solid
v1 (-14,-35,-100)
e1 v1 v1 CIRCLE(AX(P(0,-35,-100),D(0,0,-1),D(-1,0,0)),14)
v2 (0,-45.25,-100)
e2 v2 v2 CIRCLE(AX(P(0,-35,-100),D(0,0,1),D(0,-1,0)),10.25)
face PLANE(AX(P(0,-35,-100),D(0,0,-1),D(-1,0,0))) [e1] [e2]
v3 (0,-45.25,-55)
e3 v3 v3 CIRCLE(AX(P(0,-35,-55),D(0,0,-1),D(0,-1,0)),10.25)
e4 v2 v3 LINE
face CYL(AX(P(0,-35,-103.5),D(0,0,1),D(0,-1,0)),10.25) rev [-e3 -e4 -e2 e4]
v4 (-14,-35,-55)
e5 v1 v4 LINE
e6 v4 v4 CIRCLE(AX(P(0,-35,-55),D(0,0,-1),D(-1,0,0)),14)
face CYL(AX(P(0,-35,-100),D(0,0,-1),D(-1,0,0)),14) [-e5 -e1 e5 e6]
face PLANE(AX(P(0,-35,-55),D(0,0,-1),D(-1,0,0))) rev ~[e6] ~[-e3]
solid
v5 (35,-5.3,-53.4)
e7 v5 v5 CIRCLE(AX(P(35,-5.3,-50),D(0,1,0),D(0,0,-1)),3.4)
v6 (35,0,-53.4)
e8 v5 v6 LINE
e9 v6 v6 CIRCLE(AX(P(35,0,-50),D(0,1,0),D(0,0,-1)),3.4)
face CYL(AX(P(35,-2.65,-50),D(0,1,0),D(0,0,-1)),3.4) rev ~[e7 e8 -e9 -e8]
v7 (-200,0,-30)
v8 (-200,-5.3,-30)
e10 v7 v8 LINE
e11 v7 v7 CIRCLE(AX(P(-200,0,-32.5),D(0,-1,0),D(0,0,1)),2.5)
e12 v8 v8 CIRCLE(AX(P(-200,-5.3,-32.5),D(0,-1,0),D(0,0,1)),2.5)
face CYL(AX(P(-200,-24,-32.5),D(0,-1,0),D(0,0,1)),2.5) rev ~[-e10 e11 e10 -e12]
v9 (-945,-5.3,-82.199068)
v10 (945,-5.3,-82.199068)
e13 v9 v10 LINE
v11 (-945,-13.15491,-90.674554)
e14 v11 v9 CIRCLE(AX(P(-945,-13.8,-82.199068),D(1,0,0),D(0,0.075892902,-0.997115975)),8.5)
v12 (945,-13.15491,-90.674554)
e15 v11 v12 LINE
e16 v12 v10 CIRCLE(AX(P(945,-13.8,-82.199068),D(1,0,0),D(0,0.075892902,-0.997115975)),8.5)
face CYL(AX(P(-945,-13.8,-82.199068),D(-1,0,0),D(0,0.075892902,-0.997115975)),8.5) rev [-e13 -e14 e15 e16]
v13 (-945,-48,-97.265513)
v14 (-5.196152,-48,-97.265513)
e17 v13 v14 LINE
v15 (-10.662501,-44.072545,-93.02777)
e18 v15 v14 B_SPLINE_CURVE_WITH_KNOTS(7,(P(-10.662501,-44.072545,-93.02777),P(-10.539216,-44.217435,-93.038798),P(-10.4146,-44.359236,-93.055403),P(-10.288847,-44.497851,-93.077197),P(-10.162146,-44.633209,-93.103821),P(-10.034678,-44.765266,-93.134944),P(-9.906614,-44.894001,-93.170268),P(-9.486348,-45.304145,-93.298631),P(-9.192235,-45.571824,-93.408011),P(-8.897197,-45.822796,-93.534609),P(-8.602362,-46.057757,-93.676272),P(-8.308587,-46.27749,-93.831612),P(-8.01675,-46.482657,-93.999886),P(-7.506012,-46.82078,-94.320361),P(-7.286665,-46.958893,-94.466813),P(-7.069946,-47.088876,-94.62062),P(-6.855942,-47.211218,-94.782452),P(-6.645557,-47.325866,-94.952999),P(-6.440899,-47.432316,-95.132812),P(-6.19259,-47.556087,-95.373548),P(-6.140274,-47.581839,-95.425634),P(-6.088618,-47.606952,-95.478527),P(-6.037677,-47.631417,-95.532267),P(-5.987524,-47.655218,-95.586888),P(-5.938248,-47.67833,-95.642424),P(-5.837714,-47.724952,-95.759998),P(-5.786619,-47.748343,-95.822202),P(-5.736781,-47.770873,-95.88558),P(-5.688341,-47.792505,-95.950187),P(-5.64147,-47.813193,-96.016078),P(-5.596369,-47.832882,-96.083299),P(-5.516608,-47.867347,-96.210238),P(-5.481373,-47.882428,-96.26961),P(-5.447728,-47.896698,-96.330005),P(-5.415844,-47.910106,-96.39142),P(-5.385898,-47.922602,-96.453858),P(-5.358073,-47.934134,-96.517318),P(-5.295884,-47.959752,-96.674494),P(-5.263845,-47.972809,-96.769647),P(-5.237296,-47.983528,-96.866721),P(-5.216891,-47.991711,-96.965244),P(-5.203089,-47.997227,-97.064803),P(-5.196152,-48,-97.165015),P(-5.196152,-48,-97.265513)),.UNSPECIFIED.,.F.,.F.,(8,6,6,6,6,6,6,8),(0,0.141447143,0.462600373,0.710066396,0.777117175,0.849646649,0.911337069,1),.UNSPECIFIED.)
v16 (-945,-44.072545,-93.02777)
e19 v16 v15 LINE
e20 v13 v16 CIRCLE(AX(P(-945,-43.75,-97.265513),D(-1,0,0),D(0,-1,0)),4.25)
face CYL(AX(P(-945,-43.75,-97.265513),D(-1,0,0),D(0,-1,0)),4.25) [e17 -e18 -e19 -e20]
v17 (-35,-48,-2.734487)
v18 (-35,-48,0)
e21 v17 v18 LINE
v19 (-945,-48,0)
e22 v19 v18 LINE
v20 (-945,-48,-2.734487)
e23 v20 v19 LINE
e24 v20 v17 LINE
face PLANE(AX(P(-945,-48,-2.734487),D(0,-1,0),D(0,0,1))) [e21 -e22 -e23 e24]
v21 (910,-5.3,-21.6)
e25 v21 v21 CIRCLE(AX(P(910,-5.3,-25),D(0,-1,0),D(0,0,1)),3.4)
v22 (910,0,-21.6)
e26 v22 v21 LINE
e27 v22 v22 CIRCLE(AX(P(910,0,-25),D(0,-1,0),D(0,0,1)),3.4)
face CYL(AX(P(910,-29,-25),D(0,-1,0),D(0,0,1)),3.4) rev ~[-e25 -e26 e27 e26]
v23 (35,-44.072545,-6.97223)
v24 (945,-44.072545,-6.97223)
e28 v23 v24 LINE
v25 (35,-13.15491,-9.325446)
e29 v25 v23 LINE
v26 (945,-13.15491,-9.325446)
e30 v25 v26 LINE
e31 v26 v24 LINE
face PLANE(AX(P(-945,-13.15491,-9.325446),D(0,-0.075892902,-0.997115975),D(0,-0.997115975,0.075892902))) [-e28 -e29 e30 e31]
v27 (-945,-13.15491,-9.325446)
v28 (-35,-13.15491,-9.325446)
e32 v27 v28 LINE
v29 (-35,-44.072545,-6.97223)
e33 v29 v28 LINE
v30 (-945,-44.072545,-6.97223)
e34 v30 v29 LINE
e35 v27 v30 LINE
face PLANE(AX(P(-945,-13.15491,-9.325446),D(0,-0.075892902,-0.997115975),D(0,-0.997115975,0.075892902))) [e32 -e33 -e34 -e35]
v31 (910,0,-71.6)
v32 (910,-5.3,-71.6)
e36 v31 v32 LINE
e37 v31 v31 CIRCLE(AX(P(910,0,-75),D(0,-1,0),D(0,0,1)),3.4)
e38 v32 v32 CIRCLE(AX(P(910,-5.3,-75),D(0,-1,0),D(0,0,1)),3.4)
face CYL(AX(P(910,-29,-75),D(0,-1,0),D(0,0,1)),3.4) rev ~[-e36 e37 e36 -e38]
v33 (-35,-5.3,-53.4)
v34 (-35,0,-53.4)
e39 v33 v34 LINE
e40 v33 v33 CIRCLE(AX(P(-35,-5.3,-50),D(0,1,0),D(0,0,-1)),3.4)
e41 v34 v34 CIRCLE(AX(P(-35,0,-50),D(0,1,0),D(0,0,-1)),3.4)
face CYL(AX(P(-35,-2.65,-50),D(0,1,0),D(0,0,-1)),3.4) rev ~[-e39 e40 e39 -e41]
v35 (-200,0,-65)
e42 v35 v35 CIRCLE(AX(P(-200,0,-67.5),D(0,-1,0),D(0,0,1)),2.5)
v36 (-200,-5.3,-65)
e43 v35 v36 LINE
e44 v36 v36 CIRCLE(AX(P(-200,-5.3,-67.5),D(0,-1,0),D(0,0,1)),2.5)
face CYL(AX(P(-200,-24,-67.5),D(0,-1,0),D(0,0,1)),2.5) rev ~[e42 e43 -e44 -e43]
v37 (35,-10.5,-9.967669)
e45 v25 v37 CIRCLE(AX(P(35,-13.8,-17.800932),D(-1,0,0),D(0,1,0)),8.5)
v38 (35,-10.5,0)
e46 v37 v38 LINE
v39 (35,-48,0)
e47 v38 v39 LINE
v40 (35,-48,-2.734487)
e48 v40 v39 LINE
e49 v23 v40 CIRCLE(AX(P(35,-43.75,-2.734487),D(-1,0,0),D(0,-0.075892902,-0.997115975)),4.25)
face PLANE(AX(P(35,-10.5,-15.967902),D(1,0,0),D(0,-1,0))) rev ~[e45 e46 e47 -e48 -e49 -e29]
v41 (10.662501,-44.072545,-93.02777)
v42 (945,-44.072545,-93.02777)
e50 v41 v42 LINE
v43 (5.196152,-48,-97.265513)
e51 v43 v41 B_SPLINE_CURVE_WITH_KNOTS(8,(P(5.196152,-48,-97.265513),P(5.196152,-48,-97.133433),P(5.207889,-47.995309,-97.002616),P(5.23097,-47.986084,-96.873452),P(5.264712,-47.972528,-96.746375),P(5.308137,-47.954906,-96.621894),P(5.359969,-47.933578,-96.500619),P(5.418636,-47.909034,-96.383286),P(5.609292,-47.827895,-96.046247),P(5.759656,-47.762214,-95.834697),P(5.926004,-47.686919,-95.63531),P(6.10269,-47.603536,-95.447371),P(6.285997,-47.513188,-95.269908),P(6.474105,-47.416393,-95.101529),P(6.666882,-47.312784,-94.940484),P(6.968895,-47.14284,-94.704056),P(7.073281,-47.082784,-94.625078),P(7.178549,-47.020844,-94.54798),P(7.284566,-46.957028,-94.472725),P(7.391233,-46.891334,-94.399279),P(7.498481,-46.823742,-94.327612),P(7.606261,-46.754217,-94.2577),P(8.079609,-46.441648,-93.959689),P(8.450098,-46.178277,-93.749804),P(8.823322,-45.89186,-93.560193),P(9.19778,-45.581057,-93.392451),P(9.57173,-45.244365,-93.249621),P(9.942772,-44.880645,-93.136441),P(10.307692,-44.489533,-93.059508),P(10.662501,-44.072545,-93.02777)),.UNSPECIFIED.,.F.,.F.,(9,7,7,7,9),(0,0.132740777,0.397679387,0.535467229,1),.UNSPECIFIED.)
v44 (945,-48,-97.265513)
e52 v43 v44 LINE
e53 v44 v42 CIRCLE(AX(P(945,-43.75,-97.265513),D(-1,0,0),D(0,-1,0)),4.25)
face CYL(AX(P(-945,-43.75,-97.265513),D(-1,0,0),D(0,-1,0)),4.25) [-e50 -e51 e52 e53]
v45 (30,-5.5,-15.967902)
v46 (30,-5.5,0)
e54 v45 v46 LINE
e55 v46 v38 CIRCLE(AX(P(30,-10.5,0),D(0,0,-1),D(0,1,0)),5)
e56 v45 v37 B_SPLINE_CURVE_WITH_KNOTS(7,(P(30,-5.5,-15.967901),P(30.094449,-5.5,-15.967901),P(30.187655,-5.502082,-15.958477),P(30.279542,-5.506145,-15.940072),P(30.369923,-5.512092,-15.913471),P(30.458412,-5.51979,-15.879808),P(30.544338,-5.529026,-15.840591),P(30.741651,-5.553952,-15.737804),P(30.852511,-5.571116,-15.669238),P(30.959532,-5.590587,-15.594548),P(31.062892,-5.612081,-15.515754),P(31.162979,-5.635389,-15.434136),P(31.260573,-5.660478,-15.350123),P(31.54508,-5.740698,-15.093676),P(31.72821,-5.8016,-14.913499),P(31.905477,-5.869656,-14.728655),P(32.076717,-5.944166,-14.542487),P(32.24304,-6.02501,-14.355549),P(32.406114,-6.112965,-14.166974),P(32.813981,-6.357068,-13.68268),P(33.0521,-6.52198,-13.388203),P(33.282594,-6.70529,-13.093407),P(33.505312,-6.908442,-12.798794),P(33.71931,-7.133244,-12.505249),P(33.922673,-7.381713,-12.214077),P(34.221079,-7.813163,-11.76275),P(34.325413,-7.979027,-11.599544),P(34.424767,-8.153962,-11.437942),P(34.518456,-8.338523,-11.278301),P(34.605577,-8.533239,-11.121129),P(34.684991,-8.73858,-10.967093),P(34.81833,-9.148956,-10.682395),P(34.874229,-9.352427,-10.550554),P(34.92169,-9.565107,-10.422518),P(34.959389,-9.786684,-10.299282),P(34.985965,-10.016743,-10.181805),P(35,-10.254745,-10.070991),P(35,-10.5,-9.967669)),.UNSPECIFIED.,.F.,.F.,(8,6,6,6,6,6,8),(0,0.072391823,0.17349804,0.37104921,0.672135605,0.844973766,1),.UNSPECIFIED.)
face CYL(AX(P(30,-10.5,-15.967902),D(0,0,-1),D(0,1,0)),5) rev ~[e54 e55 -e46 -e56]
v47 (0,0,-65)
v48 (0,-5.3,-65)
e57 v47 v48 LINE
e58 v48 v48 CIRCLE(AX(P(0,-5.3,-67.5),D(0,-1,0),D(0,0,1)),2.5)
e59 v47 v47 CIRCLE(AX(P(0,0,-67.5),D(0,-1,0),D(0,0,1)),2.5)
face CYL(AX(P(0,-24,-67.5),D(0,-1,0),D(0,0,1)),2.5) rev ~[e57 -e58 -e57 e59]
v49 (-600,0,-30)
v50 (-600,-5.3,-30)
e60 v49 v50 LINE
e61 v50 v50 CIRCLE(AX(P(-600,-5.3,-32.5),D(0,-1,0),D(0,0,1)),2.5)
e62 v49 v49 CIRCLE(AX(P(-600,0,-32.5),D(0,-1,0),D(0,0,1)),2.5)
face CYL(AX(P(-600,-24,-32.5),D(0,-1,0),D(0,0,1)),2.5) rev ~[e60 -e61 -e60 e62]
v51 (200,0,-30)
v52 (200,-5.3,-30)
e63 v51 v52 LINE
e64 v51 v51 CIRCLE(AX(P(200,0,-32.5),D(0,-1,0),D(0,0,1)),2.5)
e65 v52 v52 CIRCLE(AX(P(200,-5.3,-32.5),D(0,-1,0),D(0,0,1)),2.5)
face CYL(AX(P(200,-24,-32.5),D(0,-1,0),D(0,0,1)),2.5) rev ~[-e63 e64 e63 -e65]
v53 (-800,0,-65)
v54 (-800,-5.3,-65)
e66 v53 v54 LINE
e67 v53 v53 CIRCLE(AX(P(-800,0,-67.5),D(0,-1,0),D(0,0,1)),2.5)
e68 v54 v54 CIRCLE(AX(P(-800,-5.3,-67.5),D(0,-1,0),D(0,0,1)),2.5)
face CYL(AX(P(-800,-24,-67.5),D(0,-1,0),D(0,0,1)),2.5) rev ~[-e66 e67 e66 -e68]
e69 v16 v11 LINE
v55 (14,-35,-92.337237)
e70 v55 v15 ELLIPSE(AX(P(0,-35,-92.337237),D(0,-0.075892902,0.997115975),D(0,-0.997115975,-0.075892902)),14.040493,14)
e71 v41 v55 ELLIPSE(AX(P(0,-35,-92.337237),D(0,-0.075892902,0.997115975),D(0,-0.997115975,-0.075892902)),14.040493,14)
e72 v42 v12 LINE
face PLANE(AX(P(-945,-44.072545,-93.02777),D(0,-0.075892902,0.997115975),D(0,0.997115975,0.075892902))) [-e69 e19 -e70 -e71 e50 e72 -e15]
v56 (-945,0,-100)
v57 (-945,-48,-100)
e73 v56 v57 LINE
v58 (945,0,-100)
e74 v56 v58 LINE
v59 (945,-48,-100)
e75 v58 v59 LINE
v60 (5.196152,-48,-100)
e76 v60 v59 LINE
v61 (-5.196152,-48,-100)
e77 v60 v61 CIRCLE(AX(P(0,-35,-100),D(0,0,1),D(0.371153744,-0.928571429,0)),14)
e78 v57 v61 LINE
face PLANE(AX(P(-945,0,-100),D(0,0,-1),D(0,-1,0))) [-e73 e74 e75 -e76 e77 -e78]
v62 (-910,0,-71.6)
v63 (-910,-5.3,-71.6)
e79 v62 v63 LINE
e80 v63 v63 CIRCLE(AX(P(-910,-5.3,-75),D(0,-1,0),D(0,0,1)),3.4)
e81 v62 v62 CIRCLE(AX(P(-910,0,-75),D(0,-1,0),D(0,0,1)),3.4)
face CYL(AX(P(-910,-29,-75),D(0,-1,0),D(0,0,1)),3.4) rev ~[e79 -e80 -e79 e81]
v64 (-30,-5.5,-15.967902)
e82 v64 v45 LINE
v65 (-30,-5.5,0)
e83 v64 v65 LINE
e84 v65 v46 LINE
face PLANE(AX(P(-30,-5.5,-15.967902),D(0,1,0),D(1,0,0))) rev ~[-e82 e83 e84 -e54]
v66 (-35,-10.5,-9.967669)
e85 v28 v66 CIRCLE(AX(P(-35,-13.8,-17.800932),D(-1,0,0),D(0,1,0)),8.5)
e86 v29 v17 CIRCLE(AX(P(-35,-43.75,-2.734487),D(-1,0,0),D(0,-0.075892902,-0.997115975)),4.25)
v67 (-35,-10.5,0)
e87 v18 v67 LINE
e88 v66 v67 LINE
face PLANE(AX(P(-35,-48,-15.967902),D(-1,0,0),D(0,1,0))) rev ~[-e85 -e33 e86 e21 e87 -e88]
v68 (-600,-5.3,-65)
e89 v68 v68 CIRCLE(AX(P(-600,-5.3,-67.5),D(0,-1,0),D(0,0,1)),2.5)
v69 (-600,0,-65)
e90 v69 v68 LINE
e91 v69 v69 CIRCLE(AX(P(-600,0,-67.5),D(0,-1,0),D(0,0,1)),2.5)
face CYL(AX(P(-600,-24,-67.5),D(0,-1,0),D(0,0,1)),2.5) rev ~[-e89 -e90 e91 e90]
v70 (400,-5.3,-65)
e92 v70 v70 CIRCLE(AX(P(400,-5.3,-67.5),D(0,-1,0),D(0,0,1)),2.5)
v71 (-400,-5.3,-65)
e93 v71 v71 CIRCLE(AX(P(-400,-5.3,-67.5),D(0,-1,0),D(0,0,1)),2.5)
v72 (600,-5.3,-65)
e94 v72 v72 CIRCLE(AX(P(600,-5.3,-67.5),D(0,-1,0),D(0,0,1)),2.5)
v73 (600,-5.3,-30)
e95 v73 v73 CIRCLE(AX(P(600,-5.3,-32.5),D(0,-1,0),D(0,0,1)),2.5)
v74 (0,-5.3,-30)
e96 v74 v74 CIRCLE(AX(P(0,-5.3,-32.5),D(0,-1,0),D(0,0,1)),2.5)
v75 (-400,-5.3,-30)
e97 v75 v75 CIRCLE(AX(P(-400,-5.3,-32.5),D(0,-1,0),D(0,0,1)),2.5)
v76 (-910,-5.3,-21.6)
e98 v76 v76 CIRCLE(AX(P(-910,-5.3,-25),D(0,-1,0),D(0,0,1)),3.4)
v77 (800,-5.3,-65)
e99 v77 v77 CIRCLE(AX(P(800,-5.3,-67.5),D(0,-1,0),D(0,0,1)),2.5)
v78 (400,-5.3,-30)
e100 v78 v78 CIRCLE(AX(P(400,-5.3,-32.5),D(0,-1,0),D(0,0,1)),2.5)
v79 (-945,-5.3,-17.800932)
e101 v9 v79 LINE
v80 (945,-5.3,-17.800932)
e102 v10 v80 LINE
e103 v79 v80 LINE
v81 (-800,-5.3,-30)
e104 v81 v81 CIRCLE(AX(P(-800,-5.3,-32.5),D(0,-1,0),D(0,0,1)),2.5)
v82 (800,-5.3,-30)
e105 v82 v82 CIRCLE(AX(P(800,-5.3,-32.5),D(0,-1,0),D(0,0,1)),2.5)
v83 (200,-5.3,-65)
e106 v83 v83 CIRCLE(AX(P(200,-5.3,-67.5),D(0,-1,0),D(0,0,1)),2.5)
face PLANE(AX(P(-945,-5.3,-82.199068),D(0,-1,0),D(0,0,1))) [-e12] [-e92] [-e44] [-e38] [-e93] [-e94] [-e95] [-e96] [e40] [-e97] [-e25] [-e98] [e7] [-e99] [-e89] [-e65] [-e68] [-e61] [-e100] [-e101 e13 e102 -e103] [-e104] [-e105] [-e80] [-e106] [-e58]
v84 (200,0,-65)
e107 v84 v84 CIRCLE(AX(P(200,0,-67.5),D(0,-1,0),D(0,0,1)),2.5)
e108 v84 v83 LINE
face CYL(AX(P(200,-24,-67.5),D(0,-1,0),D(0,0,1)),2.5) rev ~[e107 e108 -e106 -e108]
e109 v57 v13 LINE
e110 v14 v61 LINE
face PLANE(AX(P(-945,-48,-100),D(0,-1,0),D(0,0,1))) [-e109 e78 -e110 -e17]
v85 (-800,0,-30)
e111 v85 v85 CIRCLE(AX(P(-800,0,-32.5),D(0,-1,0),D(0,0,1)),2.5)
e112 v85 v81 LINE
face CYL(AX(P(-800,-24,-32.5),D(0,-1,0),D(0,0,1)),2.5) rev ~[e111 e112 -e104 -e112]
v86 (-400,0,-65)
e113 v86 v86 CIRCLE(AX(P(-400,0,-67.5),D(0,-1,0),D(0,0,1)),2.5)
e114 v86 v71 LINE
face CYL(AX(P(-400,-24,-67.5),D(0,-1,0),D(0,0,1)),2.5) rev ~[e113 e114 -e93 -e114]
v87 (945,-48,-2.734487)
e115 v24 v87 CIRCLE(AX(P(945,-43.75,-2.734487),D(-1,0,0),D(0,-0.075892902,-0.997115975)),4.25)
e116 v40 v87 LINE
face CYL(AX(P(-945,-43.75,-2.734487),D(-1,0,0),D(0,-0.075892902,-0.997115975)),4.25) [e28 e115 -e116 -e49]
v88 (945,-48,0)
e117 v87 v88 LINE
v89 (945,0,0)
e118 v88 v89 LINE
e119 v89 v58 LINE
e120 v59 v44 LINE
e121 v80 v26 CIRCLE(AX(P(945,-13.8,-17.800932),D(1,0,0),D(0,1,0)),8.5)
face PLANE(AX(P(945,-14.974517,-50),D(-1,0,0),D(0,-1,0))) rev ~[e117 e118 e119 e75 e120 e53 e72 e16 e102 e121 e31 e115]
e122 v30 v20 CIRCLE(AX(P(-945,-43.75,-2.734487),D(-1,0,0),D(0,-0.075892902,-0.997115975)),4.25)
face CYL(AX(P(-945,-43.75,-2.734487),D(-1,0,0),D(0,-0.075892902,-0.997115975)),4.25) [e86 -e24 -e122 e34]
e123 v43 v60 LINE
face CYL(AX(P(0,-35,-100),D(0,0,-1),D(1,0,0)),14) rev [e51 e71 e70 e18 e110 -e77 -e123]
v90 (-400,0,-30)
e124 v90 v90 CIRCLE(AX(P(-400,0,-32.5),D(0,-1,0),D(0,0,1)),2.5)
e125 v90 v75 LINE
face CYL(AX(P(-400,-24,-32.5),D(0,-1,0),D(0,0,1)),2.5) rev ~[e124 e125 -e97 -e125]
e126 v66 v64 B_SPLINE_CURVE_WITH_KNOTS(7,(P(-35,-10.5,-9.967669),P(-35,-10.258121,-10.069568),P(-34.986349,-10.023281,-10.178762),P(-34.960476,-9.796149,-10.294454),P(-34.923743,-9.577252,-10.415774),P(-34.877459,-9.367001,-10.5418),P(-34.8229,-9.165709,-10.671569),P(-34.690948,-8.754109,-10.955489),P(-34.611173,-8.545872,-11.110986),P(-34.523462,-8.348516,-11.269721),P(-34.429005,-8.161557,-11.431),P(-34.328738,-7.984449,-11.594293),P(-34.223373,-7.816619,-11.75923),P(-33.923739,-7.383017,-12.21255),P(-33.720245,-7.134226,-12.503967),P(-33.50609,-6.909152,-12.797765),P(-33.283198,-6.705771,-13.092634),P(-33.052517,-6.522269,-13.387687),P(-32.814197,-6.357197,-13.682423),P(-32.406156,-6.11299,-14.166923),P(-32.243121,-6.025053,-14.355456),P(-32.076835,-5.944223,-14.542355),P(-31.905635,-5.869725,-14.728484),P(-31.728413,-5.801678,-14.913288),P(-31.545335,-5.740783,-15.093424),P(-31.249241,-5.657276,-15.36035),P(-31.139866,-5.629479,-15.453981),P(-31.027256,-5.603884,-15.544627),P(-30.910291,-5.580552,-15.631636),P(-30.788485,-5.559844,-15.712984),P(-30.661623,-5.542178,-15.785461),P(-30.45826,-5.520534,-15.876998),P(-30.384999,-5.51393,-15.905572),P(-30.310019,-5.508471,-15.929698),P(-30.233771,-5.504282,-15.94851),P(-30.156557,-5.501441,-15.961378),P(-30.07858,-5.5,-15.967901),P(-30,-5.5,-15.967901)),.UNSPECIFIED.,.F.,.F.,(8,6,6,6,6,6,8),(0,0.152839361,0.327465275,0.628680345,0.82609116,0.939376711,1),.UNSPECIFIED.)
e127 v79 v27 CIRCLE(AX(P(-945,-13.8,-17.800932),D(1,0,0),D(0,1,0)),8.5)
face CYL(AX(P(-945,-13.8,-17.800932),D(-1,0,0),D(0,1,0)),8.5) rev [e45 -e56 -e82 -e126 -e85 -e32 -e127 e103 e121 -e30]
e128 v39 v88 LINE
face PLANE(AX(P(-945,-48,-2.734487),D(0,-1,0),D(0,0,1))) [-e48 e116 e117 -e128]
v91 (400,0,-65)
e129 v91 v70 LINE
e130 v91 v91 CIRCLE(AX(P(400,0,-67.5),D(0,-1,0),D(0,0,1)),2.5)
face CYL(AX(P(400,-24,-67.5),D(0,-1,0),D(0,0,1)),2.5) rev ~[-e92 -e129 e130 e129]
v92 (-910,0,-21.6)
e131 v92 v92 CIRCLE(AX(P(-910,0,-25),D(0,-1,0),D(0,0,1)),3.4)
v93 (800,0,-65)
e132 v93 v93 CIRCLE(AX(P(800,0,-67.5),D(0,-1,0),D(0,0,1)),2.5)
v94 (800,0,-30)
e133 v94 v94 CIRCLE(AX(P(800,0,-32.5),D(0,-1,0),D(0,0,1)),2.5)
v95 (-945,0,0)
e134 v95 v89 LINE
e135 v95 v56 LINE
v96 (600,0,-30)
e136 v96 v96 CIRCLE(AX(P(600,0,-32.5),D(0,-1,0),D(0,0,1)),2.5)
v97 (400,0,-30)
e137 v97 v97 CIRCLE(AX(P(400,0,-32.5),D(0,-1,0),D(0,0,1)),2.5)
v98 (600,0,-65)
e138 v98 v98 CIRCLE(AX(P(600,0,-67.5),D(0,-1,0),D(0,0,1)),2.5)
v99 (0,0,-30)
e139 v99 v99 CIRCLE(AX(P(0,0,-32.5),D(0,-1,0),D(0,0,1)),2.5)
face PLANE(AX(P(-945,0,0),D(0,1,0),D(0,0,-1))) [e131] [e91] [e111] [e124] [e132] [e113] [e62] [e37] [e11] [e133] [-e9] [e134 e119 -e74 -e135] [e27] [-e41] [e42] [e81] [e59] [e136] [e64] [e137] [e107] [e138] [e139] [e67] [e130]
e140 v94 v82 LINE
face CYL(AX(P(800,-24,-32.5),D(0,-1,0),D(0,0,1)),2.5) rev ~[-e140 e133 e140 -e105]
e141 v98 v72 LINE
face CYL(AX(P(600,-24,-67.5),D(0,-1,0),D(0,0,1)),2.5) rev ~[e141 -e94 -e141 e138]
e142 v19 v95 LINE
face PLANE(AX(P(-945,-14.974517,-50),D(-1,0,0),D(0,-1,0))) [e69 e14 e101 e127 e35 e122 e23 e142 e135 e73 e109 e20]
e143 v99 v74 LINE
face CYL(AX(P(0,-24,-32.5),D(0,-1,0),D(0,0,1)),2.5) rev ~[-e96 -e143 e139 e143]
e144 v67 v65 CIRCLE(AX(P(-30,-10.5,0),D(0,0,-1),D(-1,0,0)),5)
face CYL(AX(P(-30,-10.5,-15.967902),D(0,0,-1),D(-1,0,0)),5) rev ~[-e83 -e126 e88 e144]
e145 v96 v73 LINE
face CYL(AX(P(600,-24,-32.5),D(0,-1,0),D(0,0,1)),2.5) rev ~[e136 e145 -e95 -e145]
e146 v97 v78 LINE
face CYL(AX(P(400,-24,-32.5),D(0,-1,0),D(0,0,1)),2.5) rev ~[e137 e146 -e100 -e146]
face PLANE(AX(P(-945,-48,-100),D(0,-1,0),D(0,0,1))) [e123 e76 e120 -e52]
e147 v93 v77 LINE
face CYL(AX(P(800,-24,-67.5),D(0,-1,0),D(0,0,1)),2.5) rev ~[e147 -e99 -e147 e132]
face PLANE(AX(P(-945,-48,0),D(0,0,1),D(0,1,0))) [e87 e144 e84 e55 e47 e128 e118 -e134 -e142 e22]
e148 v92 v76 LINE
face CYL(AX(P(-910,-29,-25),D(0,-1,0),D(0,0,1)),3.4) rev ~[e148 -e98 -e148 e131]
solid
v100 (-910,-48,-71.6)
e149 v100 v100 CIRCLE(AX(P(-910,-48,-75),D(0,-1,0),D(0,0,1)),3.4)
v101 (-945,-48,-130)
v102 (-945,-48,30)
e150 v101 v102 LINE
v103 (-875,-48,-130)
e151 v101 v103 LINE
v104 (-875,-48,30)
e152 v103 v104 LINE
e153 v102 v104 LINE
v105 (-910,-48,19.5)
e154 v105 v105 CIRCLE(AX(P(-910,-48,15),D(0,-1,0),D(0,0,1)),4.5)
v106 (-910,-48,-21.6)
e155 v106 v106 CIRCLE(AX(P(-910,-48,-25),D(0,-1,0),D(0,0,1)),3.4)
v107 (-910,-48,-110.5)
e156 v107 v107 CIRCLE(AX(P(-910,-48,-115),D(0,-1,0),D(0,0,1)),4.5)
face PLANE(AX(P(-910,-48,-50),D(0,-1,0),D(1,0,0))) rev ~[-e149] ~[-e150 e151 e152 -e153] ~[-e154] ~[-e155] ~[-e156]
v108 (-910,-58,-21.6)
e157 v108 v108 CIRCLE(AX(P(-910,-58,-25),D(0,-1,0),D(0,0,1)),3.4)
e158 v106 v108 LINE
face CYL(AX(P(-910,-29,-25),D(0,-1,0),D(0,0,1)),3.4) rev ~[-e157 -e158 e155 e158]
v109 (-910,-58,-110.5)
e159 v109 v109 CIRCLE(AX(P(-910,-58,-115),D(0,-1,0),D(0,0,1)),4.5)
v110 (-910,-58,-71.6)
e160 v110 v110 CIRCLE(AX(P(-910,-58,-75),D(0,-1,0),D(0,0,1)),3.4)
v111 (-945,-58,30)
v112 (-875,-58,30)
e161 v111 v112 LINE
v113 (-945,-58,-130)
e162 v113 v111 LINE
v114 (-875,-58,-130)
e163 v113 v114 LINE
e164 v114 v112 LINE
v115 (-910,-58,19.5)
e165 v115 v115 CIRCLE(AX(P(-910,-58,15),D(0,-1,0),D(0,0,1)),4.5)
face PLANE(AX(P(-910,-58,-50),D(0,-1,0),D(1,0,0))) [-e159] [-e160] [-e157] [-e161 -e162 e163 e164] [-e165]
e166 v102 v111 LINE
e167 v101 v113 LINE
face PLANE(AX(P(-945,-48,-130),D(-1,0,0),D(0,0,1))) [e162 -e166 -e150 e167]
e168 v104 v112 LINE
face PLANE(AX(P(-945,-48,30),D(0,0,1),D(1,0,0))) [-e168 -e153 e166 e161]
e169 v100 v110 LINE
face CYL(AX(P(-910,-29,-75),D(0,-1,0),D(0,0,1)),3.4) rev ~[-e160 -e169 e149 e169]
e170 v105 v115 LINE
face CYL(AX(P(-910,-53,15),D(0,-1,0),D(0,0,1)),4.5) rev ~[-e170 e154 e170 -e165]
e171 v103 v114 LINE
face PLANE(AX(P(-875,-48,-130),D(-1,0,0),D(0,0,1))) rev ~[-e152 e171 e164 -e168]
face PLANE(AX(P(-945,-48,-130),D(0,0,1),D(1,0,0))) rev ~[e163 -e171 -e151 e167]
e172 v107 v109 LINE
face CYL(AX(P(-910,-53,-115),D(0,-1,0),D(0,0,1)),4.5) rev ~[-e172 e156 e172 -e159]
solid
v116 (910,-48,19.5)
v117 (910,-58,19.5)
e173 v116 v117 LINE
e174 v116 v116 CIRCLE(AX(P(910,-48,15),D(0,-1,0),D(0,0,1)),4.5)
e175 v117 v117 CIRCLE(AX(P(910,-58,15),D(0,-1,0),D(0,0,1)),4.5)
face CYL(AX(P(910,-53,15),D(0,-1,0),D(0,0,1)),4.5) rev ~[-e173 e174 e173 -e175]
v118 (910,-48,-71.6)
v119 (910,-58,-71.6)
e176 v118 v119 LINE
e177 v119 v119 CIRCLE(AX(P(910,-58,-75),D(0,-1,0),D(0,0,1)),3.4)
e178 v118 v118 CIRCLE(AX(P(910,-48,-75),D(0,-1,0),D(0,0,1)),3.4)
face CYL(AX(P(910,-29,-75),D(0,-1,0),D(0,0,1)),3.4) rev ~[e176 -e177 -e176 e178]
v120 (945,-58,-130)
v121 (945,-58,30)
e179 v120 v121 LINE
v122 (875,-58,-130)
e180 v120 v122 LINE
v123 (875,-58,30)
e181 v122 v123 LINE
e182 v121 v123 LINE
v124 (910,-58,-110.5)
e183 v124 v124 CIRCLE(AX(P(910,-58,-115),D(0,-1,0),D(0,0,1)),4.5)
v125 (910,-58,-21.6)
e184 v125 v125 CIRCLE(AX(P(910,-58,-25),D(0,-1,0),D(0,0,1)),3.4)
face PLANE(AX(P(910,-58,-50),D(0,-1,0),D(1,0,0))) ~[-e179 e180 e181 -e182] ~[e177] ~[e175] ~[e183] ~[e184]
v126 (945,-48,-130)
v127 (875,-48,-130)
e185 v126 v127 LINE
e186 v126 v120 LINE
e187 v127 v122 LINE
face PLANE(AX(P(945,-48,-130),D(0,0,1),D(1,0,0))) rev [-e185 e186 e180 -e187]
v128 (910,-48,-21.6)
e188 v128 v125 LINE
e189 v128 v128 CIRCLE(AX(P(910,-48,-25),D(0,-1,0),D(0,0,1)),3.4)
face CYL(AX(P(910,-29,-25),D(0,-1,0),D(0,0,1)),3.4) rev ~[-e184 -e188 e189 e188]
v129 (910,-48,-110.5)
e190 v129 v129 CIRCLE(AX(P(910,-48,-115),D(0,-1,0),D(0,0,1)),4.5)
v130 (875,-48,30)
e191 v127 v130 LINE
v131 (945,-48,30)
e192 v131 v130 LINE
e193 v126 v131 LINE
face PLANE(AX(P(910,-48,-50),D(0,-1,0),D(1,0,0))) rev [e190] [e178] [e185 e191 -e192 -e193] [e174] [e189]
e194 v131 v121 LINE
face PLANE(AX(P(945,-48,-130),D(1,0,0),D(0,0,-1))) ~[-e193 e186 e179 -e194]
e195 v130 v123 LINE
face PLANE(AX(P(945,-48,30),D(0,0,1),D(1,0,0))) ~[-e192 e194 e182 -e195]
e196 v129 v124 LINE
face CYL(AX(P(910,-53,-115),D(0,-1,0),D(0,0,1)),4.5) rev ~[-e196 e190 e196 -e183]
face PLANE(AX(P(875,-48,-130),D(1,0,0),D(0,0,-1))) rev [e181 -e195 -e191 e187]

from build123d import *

# Parameters (mm, degrees)
MEMBER_10_1_DEPTH                = 1890
SKETCH_2_W                       = 70
SKETCH_2_H                       = 160
EXTRUDE_1_DEPTH                  = 10
SKETCH_4_W                       = 4.5
SKETCH_4_H                       = 10
HOLE_WIZARD_9_0_9_1_AT_2_COUNT   = 2
HOLE_WIZARD_9_0_9_1_AT_2_PITCH   = 130
HOLE_WIZARD_9_0_9_1_AT_3_COUNT   = 2
HOLE_WIZARD_9_0_9_1_AT_3_PITCH   = 1820
HOLE_WIZARD_9_0_9_1_AT_4_COUNT   = 2
HOLE_WIZARD_9_0_9_1_AT_4_PITCH   = 1824.63695019
SKETCH_6_W                       = 2.5
SKETCH_6_H                       = 48
HOLE_WIZARD_M6_1_AT_2_COUNT      = 2
HOLE_WIZARD_M6_1_AT_2_PITCH      = 35
PATTERN_LINEAR_1_COUNT           = 9
PATTERN_LINEAR_1_PITCH           = 200
PATTERN_LINEAR_1_COPY_1_SKETCH_W = 2.5
PATTERN_LINEAR_1_COPY_1_SKETCH_H = 48
PATTERN_LINEAR_1_COPY_2_SKETCH_W = 2.5
PATTERN_LINEAR_1_COPY_2_SKETCH_H = 48
PATTERN_LINEAR_1_COPY_3_SKETCH_W = 2.5
PATTERN_LINEAR_1_COPY_3_SKETCH_H = 48
PATTERN_LINEAR_1_COPY_4_SKETCH_W = 2.5
PATTERN_LINEAR_1_COPY_4_SKETCH_H = 48
PATTERN_LINEAR_1_COPY_5_SKETCH_W = 2.5
PATTERN_LINEAR_1_COPY_5_SKETCH_H = 48
PATTERN_LINEAR_1_COPY_6_SKETCH_W = 2.5
PATTERN_LINEAR_1_COPY_6_SKETCH_H = 48
PATTERN_LINEAR_1_COPY_7_SKETCH_W = 2.5
PATTERN_LINEAR_1_COPY_7_SKETCH_H = 48
PATTERN_LINEAR_1_COPY_8_SKETCH_W = 2.5
PATTERN_LINEAR_1_COPY_8_SKETCH_H = 48
CUT_EXTRUDE_START                = -10.785948
SKETCH_7_R                       = 15
CUT_EXTRUDE_1_DEPTH              = 10.785948
CUT_EXTRUDE_START_2              = -15.967902
CUT_EXTRUDE_2_DEPTH              = 15.967902
SKETCH_10_R                      = 14
CUT_EXTRUDE_4_DEPTH              = 957.125399037
SKETCH_14_R                      = 14
EXTRUDE_3_DEPTH                  = 45
SKETCH_19_W                      = 3.4
SKETCH_19_H                      = 58
HOLE_WIZARD_M8_1_AT_2_COUNT      = 2
HOLE_WIZARD_M8_1_AT_2_PITCH      = 50
HOLE_WIZARD_M8_1_AT_3_COUNT      = 2
HOLE_WIZARD_M8_1_AT_3_PITCH      = 1820
HOLE_WIZARD_M8_1_AT_4_COUNT      = 2
HOLE_WIZARD_M8_1_AT_4_PITCH      = 1820.686683644
SKETCH_22_W                      = 3.4
SKETCH_22_H                      = 5.3
HOLE_WIZARD_M8_2_AT_2_COUNT      = 2
HOLE_WIZARD_M8_2_AT_2_PITCH      = 70


with BuildPart() as part:
    # Sketch1 → Member 10_1 (new body)
    with BuildSketch(Plane.YZ.offset(-945)):
        with BuildLine():
            Line((0, 0), (0, -100))
            Line((0, -100), (-48, -100))
            Line((-48, -100), (-48, -97.265512699))
            ThreePointArc((-48, -97.265512699), (-46.867155397, -94.376595562), (-44.072544834, -93.027769806))
            Line((-44.072544834, -93.027769806), (-13.154910332, -90.674554065))
            ThreePointArc((-13.154910332, -90.674554065), (-7.565689205, -87.976902554), (-5.3, -82.199068278))
            Line((-5.3, -82.199068278), (-5.3, -17.800931722))
            ThreePointArc((-5.3, -17.800931722), (-7.565689205, -12.023097446), (-13.154910332, -9.325445935))
            Line((-13.154910332, -9.325445935), (-44.072544834, -6.972230194))
            ThreePointArc((-44.072544834, -6.972230194), (-46.867155397, -5.623404438), (-48, -2.734487301))
            Line((-48, -2.734487301), (-48, 0))
            Line((-48, 0), (0, 0))
        make_face()
    extrude(amount=MEMBER_10_1_DEPTH)

    # 草图6 → M6 螺纹孔1 (revolve, cut)
    with BuildSketch(Plane(origin=(-800, 0, -32.5), x_dir=(0, 0, 1), z_dir=(1, 0, 0))):
        with Locations((1.25, 24)):
            Rectangle(SKETCH_6_W, SKETCH_6_H)
    hole_wizard_m6_1 = revolve(axis=Axis((-800, 6.35, -32.5), (0, -1, 0)), mode=Mode.SUBTRACT)

    # M6 螺纹孔1 at 2: M6 螺纹孔1 ×2
    with Locations(*[(0, 0, -i * HOLE_WIZARD_M6_1_AT_2_PITCH) for i in range(1, HOLE_WIZARD_M6_1_AT_2_COUNT)]):
        add(hole_wizard_m6_1, mode=Mode.SUBTRACT)

    # 阵列(线性)1: M6 螺纹孔1 ×9
    with Locations(*[(i * PATTERN_LINEAR_1_PITCH, 0, 0) for i in range(1, PATTERN_LINEAR_1_COUNT)]):
        add(hole_wizard_m6_1, mode=Mode.SUBTRACT)

    # 阵列(线性)1 copy 1 sketch → 阵列(线性)1 copy 1 (revolve, cut)
    with BuildSketch(Plane(origin=(-600, 0, -67.5), x_dir=(0, 0, 1), z_dir=(1, 0, 0))):
        with Locations((1.25, 24)):
            Rectangle(PATTERN_LINEAR_1_COPY_1_SKETCH_W, PATTERN_LINEAR_1_COPY_1_SKETCH_H)
    revolve(axis=Axis((-600, 6.35, -67.5), (0, -1, 0)), mode=Mode.SUBTRACT)

    # 阵列(线性)1 copy 2 sketch → 阵列(线性)1 copy 2 (revolve, cut)
    with BuildSketch(Plane(origin=(-400, 0, -67.5), x_dir=(0, 0, 1), z_dir=(1, 0, 0))):
        with Locations((1.25, 24)):
            Rectangle(PATTERN_LINEAR_1_COPY_2_SKETCH_W, PATTERN_LINEAR_1_COPY_2_SKETCH_H)
    revolve(axis=Axis((-400, 6.35, -67.5), (0, -1, 0)), mode=Mode.SUBTRACT)

    # 阵列(线性)1 copy 3 sketch → 阵列(线性)1 copy 3 (revolve, cut)
    with BuildSketch(Plane(origin=(-200, 0, -67.5), x_dir=(0, 0, 1), z_dir=(1, 0, 0))):
        with Locations((1.25, 24)):
            Rectangle(PATTERN_LINEAR_1_COPY_3_SKETCH_W, PATTERN_LINEAR_1_COPY_3_SKETCH_H)
    revolve(axis=Axis((-200, 6.35, -67.5), (0, -1, 0)), mode=Mode.SUBTRACT)

    # 阵列(线性)1 copy 4 sketch → 阵列(线性)1 copy 4 (revolve, cut)
    with BuildSketch(Plane(origin=(0, 0, -67.5), x_dir=(0, 0, 1), z_dir=(1, 0, 0))):
        with Locations((1.25, 24)):
            Rectangle(PATTERN_LINEAR_1_COPY_4_SKETCH_W, PATTERN_LINEAR_1_COPY_4_SKETCH_H)
    revolve(axis=Axis((0, 6.35, -67.5), (0, -1, 0)), mode=Mode.SUBTRACT)

    # 阵列(线性)1 copy 5 sketch → 阵列(线性)1 copy 5 (revolve, cut)
    with BuildSketch(Plane(origin=(200, 0, -67.5), x_dir=(0, 0, 1), z_dir=(1, 0, 0))):
        with Locations((1.25, 24)):
            Rectangle(PATTERN_LINEAR_1_COPY_5_SKETCH_W, PATTERN_LINEAR_1_COPY_5_SKETCH_H)
    revolve(axis=Axis((200, 6.35, -67.5), (0, -1, 0)), mode=Mode.SUBTRACT)

    # 阵列(线性)1 copy 6 sketch → 阵列(线性)1 copy 6 (revolve, cut)
    with BuildSketch(Plane(origin=(400, 0, -67.5), x_dir=(0, 0, 1), z_dir=(1, 0, 0))):
        with Locations((1.25, 24)):
            Rectangle(PATTERN_LINEAR_1_COPY_6_SKETCH_W, PATTERN_LINEAR_1_COPY_6_SKETCH_H)
    revolve(axis=Axis((400, 6.35, -67.5), (0, -1, 0)), mode=Mode.SUBTRACT)

    # 阵列(线性)1 copy 7 sketch → 阵列(线性)1 copy 7 (revolve, cut)
    with BuildSketch(Plane(origin=(600, 0, -67.5), x_dir=(0, 0, 1), z_dir=(1, 0, 0))):
        with Locations((1.25, 24)):
            Rectangle(PATTERN_LINEAR_1_COPY_7_SKETCH_W, PATTERN_LINEAR_1_COPY_7_SKETCH_H)
    revolve(axis=Axis((600, 6.35, -67.5), (0, -1, 0)), mode=Mode.SUBTRACT)

    # 阵列(线性)1 copy 8 sketch → 阵列(线性)1 copy 8 (revolve, cut)
    with BuildSketch(Plane(origin=(800, 0, -67.5), x_dir=(0, 0, 1), z_dir=(1, 0, 0))):
        with Locations((1.25, 24)):
            Rectangle(PATTERN_LINEAR_1_COPY_8_SKETCH_W, PATTERN_LINEAR_1_COPY_8_SKETCH_H)
    revolve(axis=Axis((800, 6.35, -67.5), (0, -1, 0)), mode=Mode.SUBTRACT)

    # 草图7 → 切除-拉伸1 (cut)
    with BuildSketch(Plane.XY.offset(CUT_EXTRUDE_START)):
        with Locations((0, -24)):
            Circle(SKETCH_7_R)
    extrude(amount=CUT_EXTRUDE_1_DEPTH, mode=Mode.SUBTRACT)

    # 草图13 → 切除-拉伸2 (cut)
    with BuildSketch(Plane.XY.offset(CUT_EXTRUDE_START_2)):
        with BuildLine():
            Line((-30, -5.5), (30, -5.5))
            ThreePointArc((30, -5.5), (33.535533906, -6.964466094), (35, -10.5))
            Line((35, -10.5), (35, -48))
            Line((35, -48), (-35, -48))
            Line((-35, -48), (-35, -10.5))
            ThreePointArc((-35, -10.5), (-33.535533906, -6.964466094), (-30, -5.5))
        make_face()
    extrude(amount=CUT_EXTRUDE_2_DEPTH, mode=Mode.SUBTRACT)

    # 草图10 → 切除-拉伸4 (cut, through all)
    with BuildSketch(Plane(origin=(0, 7.197994556, -100), x_dir=(1, 0, 0), z_dir=(0, 0, 1))):
        with Locations((0, -42.197994556)):
            Circle(SKETCH_10_R)
    extrude(amount=CUT_EXTRUDE_4_DEPTH, mode=Mode.SUBTRACT)


with BuildPart() as body_2:
    # 草图2 → 凸台-拉伸1 (new body)
    with BuildSketch(Plane.XZ.offset(48)):
        with Locations((-910, -50)):
            Rectangle(SKETCH_2_W, SKETCH_2_H)
    extrude(amount=EXTRUDE_1_DEPTH)


with BuildPart() as body_3:
    # 镜向3: mirrored copy
    add(body_2.part.mirror(Plane(origin=(0, 0, 0), x_dir=(0, 0, 1), z_dir=(1, 0, 0))))

    # 草图4 → Ø9.0 (9) 直径孔1 (revolve, cut)
    with BuildSketch(Plane(origin=(910, -48, -115), x_dir=(0, 0, 1), z_dir=(1, 0, 0))):
        with Locations((2.25, 5)):
            Rectangle(SKETCH_4_W, SKETCH_4_H)
    hole_wizard_9_0_9_1 = revolve(axis=Axis((910, -41.65, -115), (0, -1, 0)), mode=Mode.SUBTRACT)

    # Ø9.0 (9) 直径孔1 at 2: Ø9.0 (9) 直径孔1 ×2
    with Locations(*[(0, 0, i * HOLE_WIZARD_9_0_9_1_AT_2_PITCH) for i in range(1, HOLE_WIZARD_9_0_9_1_AT_2_COUNT)]):
        add(hole_wizard_9_0_9_1, mode=Mode.SUBTRACT)


with BuildPart() as body_2_1:
    add(body_2.part)

    # Ø9.0 (9) 直径孔1 at 3: Ø9.0 (9) 直径孔1 ×2
    with Locations(*[(-i * HOLE_WIZARD_9_0_9_1_AT_3_PITCH, 0, 0) for i in range(1, HOLE_WIZARD_9_0_9_1_AT_3_COUNT)]):
        add(hole_wizard_9_0_9_1, mode=Mode.SUBTRACT)

    # Ø9.0 (9) 直径孔1 at 4: Ø9.0 (9) 直径孔1 ×2
    with Locations(*[Vector(-0.997458699830735, 0, 0.07124704998790966) * (i * HOLE_WIZARD_9_0_9_1_AT_4_PITCH) for i in range(1, HOLE_WIZARD_9_0_9_1_AT_4_COUNT)]):
        add(hole_wizard_9_0_9_1, mode=Mode.SUBTRACT)


with BuildPart() as body_4:
    # 草图14 → 凸台-拉伸3 (new body)
    with BuildSketch(Plane(origin=(0, 0, -100), x_dir=(-1, 0, 0), z_dir=(0, 0, -1))):
        with Locations((0, -35)):
            Circle(SKETCH_14_R)
    extrude(amount=-EXTRUDE_3_DEPTH)

    # 草图17 → M22x1.5 螺纹孔1 (revolve, cut)
    with BuildSketch(Plane(origin=(0, -35, -55), x_dir=(0, -1, 0), z_dir=(1, 0, 0))):
        Polygon((0, 0), (0, 54.658821345), (10.25, 48.5), (10.25, 0), align=None)
    revolve(axis=Axis((0, -35, -48.65), (0, 0, -1)), mode=Mode.SUBTRACT)


with BuildPart() as hole_wizard_m8_1_tool:
    # 草图19 → M8 螺纹孔1 (revolve)
    with BuildSketch(Plane(origin=(-910, 0, -75), x_dir=(0, 0, 1), z_dir=(1, 0, 0))):
        with Locations((1.7, 29)):
            Rectangle(SKETCH_19_W, SKETCH_19_H)
    hole_wizard_m8_1 = revolve(axis=Axis((-910, 6.35, -75), (0, -1, 0)))


with BuildPart() as part_1:
    add(part.part)

    # M8 螺纹孔1: cut by hole_wizard_m8_1_tool
    add(hole_wizard_m8_1_tool.part, mode=Mode.SUBTRACT)


with BuildPart() as body_2_2:
    add(body_2_1.part)

    # M8 螺纹孔1: cut by hole_wizard_m8_1_tool
    add(hole_wizard_m8_1_tool.part, mode=Mode.SUBTRACT)


with BuildPart() as hole_wizard_m8_1_at_2_tool:
    # M8 螺纹孔1 at 2: M8 螺纹孔1 ×2
    with Locations(*[(0, 0, i * HOLE_WIZARD_M8_1_AT_2_PITCH) for i in range(1, HOLE_WIZARD_M8_1_AT_2_COUNT)]):
        add(hole_wizard_m8_1)


with BuildPart() as part_2:
    add(part_1.part)

    # M8 螺纹孔1 at 2: cut by hole_wizard_m8_1_at_2_tool
    add(hole_wizard_m8_1_at_2_tool.part, mode=Mode.SUBTRACT)


with BuildPart() as body_2_3:
    add(body_2_2.part)

    # M8 螺纹孔1 at 2: cut by hole_wizard_m8_1_at_2_tool
    add(hole_wizard_m8_1_at_2_tool.part, mode=Mode.SUBTRACT)


with BuildPart() as hole_wizard_m8_1_at_3_tool:
    # M8 螺纹孔1 at 3: M8 螺纹孔1 ×2
    with Locations(*[(i * HOLE_WIZARD_M8_1_AT_3_PITCH, 0, 0) for i in range(1, HOLE_WIZARD_M8_1_AT_3_COUNT)]):
        add(hole_wizard_m8_1)


with BuildPart() as part_3:
    add(part_2.part)

    # M8 螺纹孔1 at 3: cut by hole_wizard_m8_1_at_3_tool
    add(hole_wizard_m8_1_at_3_tool.part, mode=Mode.SUBTRACT)


with BuildPart() as body_3_1:
    add(body_3.part)

    # M8 螺纹孔1 at 3: cut by hole_wizard_m8_1_at_3_tool
    add(hole_wizard_m8_1_at_3_tool.part, mode=Mode.SUBTRACT)


with BuildPart() as hole_wizard_m8_1_at_4_tool:
    # M8 螺纹孔1 at 4: M8 螺纹孔1 ×2
    with Locations(*[Vector(0.9996228435949158, 0, 0.027462166032827365) * (i * HOLE_WIZARD_M8_1_AT_4_PITCH) for i in range(1, HOLE_WIZARD_M8_1_AT_4_COUNT)]):
        add(hole_wizard_m8_1)


with BuildPart() as part_4:
    add(part_3.part)

    # M8 螺纹孔1 at 4: cut by hole_wizard_m8_1_at_4_tool
    add(hole_wizard_m8_1_at_4_tool.part, mode=Mode.SUBTRACT)

    # 草图22 → M8 螺纹孔2 (revolve, cut)
    with BuildSketch(Plane(origin=(35, -5.3, -50), x_dir=(0, 0, -1), z_dir=(1, 0, 0))):
        with Locations((1.7, 2.65)):
            Rectangle(SKETCH_22_W, SKETCH_22_H)
    hole_wizard_m8_2 = revolve(axis=Axis((35, -11.65, -50), (0, 1, 0)), mode=Mode.SUBTRACT)

    # M8 螺纹孔2 at 2: M8 螺纹孔2 ×2
    with Locations(*[(-i * HOLE_WIZARD_M8_2_AT_2_PITCH, 0, 0) for i in range(1, HOLE_WIZARD_M8_2_AT_2_COUNT)]):
        add(hole_wizard_m8_2, mode=Mode.SUBTRACT)


with BuildPart() as body_3_2:
    add(body_3_1.part)

    # M8 螺纹孔1 at 4: cut by hole_wizard_m8_1_at_4_tool
    add(hole_wizard_m8_1_at_4_tool.part, mode=Mode.SUBTRACT)


solid = Compound([body_4.part, body_2_3.part, part_4.part, body_3_2.part])
